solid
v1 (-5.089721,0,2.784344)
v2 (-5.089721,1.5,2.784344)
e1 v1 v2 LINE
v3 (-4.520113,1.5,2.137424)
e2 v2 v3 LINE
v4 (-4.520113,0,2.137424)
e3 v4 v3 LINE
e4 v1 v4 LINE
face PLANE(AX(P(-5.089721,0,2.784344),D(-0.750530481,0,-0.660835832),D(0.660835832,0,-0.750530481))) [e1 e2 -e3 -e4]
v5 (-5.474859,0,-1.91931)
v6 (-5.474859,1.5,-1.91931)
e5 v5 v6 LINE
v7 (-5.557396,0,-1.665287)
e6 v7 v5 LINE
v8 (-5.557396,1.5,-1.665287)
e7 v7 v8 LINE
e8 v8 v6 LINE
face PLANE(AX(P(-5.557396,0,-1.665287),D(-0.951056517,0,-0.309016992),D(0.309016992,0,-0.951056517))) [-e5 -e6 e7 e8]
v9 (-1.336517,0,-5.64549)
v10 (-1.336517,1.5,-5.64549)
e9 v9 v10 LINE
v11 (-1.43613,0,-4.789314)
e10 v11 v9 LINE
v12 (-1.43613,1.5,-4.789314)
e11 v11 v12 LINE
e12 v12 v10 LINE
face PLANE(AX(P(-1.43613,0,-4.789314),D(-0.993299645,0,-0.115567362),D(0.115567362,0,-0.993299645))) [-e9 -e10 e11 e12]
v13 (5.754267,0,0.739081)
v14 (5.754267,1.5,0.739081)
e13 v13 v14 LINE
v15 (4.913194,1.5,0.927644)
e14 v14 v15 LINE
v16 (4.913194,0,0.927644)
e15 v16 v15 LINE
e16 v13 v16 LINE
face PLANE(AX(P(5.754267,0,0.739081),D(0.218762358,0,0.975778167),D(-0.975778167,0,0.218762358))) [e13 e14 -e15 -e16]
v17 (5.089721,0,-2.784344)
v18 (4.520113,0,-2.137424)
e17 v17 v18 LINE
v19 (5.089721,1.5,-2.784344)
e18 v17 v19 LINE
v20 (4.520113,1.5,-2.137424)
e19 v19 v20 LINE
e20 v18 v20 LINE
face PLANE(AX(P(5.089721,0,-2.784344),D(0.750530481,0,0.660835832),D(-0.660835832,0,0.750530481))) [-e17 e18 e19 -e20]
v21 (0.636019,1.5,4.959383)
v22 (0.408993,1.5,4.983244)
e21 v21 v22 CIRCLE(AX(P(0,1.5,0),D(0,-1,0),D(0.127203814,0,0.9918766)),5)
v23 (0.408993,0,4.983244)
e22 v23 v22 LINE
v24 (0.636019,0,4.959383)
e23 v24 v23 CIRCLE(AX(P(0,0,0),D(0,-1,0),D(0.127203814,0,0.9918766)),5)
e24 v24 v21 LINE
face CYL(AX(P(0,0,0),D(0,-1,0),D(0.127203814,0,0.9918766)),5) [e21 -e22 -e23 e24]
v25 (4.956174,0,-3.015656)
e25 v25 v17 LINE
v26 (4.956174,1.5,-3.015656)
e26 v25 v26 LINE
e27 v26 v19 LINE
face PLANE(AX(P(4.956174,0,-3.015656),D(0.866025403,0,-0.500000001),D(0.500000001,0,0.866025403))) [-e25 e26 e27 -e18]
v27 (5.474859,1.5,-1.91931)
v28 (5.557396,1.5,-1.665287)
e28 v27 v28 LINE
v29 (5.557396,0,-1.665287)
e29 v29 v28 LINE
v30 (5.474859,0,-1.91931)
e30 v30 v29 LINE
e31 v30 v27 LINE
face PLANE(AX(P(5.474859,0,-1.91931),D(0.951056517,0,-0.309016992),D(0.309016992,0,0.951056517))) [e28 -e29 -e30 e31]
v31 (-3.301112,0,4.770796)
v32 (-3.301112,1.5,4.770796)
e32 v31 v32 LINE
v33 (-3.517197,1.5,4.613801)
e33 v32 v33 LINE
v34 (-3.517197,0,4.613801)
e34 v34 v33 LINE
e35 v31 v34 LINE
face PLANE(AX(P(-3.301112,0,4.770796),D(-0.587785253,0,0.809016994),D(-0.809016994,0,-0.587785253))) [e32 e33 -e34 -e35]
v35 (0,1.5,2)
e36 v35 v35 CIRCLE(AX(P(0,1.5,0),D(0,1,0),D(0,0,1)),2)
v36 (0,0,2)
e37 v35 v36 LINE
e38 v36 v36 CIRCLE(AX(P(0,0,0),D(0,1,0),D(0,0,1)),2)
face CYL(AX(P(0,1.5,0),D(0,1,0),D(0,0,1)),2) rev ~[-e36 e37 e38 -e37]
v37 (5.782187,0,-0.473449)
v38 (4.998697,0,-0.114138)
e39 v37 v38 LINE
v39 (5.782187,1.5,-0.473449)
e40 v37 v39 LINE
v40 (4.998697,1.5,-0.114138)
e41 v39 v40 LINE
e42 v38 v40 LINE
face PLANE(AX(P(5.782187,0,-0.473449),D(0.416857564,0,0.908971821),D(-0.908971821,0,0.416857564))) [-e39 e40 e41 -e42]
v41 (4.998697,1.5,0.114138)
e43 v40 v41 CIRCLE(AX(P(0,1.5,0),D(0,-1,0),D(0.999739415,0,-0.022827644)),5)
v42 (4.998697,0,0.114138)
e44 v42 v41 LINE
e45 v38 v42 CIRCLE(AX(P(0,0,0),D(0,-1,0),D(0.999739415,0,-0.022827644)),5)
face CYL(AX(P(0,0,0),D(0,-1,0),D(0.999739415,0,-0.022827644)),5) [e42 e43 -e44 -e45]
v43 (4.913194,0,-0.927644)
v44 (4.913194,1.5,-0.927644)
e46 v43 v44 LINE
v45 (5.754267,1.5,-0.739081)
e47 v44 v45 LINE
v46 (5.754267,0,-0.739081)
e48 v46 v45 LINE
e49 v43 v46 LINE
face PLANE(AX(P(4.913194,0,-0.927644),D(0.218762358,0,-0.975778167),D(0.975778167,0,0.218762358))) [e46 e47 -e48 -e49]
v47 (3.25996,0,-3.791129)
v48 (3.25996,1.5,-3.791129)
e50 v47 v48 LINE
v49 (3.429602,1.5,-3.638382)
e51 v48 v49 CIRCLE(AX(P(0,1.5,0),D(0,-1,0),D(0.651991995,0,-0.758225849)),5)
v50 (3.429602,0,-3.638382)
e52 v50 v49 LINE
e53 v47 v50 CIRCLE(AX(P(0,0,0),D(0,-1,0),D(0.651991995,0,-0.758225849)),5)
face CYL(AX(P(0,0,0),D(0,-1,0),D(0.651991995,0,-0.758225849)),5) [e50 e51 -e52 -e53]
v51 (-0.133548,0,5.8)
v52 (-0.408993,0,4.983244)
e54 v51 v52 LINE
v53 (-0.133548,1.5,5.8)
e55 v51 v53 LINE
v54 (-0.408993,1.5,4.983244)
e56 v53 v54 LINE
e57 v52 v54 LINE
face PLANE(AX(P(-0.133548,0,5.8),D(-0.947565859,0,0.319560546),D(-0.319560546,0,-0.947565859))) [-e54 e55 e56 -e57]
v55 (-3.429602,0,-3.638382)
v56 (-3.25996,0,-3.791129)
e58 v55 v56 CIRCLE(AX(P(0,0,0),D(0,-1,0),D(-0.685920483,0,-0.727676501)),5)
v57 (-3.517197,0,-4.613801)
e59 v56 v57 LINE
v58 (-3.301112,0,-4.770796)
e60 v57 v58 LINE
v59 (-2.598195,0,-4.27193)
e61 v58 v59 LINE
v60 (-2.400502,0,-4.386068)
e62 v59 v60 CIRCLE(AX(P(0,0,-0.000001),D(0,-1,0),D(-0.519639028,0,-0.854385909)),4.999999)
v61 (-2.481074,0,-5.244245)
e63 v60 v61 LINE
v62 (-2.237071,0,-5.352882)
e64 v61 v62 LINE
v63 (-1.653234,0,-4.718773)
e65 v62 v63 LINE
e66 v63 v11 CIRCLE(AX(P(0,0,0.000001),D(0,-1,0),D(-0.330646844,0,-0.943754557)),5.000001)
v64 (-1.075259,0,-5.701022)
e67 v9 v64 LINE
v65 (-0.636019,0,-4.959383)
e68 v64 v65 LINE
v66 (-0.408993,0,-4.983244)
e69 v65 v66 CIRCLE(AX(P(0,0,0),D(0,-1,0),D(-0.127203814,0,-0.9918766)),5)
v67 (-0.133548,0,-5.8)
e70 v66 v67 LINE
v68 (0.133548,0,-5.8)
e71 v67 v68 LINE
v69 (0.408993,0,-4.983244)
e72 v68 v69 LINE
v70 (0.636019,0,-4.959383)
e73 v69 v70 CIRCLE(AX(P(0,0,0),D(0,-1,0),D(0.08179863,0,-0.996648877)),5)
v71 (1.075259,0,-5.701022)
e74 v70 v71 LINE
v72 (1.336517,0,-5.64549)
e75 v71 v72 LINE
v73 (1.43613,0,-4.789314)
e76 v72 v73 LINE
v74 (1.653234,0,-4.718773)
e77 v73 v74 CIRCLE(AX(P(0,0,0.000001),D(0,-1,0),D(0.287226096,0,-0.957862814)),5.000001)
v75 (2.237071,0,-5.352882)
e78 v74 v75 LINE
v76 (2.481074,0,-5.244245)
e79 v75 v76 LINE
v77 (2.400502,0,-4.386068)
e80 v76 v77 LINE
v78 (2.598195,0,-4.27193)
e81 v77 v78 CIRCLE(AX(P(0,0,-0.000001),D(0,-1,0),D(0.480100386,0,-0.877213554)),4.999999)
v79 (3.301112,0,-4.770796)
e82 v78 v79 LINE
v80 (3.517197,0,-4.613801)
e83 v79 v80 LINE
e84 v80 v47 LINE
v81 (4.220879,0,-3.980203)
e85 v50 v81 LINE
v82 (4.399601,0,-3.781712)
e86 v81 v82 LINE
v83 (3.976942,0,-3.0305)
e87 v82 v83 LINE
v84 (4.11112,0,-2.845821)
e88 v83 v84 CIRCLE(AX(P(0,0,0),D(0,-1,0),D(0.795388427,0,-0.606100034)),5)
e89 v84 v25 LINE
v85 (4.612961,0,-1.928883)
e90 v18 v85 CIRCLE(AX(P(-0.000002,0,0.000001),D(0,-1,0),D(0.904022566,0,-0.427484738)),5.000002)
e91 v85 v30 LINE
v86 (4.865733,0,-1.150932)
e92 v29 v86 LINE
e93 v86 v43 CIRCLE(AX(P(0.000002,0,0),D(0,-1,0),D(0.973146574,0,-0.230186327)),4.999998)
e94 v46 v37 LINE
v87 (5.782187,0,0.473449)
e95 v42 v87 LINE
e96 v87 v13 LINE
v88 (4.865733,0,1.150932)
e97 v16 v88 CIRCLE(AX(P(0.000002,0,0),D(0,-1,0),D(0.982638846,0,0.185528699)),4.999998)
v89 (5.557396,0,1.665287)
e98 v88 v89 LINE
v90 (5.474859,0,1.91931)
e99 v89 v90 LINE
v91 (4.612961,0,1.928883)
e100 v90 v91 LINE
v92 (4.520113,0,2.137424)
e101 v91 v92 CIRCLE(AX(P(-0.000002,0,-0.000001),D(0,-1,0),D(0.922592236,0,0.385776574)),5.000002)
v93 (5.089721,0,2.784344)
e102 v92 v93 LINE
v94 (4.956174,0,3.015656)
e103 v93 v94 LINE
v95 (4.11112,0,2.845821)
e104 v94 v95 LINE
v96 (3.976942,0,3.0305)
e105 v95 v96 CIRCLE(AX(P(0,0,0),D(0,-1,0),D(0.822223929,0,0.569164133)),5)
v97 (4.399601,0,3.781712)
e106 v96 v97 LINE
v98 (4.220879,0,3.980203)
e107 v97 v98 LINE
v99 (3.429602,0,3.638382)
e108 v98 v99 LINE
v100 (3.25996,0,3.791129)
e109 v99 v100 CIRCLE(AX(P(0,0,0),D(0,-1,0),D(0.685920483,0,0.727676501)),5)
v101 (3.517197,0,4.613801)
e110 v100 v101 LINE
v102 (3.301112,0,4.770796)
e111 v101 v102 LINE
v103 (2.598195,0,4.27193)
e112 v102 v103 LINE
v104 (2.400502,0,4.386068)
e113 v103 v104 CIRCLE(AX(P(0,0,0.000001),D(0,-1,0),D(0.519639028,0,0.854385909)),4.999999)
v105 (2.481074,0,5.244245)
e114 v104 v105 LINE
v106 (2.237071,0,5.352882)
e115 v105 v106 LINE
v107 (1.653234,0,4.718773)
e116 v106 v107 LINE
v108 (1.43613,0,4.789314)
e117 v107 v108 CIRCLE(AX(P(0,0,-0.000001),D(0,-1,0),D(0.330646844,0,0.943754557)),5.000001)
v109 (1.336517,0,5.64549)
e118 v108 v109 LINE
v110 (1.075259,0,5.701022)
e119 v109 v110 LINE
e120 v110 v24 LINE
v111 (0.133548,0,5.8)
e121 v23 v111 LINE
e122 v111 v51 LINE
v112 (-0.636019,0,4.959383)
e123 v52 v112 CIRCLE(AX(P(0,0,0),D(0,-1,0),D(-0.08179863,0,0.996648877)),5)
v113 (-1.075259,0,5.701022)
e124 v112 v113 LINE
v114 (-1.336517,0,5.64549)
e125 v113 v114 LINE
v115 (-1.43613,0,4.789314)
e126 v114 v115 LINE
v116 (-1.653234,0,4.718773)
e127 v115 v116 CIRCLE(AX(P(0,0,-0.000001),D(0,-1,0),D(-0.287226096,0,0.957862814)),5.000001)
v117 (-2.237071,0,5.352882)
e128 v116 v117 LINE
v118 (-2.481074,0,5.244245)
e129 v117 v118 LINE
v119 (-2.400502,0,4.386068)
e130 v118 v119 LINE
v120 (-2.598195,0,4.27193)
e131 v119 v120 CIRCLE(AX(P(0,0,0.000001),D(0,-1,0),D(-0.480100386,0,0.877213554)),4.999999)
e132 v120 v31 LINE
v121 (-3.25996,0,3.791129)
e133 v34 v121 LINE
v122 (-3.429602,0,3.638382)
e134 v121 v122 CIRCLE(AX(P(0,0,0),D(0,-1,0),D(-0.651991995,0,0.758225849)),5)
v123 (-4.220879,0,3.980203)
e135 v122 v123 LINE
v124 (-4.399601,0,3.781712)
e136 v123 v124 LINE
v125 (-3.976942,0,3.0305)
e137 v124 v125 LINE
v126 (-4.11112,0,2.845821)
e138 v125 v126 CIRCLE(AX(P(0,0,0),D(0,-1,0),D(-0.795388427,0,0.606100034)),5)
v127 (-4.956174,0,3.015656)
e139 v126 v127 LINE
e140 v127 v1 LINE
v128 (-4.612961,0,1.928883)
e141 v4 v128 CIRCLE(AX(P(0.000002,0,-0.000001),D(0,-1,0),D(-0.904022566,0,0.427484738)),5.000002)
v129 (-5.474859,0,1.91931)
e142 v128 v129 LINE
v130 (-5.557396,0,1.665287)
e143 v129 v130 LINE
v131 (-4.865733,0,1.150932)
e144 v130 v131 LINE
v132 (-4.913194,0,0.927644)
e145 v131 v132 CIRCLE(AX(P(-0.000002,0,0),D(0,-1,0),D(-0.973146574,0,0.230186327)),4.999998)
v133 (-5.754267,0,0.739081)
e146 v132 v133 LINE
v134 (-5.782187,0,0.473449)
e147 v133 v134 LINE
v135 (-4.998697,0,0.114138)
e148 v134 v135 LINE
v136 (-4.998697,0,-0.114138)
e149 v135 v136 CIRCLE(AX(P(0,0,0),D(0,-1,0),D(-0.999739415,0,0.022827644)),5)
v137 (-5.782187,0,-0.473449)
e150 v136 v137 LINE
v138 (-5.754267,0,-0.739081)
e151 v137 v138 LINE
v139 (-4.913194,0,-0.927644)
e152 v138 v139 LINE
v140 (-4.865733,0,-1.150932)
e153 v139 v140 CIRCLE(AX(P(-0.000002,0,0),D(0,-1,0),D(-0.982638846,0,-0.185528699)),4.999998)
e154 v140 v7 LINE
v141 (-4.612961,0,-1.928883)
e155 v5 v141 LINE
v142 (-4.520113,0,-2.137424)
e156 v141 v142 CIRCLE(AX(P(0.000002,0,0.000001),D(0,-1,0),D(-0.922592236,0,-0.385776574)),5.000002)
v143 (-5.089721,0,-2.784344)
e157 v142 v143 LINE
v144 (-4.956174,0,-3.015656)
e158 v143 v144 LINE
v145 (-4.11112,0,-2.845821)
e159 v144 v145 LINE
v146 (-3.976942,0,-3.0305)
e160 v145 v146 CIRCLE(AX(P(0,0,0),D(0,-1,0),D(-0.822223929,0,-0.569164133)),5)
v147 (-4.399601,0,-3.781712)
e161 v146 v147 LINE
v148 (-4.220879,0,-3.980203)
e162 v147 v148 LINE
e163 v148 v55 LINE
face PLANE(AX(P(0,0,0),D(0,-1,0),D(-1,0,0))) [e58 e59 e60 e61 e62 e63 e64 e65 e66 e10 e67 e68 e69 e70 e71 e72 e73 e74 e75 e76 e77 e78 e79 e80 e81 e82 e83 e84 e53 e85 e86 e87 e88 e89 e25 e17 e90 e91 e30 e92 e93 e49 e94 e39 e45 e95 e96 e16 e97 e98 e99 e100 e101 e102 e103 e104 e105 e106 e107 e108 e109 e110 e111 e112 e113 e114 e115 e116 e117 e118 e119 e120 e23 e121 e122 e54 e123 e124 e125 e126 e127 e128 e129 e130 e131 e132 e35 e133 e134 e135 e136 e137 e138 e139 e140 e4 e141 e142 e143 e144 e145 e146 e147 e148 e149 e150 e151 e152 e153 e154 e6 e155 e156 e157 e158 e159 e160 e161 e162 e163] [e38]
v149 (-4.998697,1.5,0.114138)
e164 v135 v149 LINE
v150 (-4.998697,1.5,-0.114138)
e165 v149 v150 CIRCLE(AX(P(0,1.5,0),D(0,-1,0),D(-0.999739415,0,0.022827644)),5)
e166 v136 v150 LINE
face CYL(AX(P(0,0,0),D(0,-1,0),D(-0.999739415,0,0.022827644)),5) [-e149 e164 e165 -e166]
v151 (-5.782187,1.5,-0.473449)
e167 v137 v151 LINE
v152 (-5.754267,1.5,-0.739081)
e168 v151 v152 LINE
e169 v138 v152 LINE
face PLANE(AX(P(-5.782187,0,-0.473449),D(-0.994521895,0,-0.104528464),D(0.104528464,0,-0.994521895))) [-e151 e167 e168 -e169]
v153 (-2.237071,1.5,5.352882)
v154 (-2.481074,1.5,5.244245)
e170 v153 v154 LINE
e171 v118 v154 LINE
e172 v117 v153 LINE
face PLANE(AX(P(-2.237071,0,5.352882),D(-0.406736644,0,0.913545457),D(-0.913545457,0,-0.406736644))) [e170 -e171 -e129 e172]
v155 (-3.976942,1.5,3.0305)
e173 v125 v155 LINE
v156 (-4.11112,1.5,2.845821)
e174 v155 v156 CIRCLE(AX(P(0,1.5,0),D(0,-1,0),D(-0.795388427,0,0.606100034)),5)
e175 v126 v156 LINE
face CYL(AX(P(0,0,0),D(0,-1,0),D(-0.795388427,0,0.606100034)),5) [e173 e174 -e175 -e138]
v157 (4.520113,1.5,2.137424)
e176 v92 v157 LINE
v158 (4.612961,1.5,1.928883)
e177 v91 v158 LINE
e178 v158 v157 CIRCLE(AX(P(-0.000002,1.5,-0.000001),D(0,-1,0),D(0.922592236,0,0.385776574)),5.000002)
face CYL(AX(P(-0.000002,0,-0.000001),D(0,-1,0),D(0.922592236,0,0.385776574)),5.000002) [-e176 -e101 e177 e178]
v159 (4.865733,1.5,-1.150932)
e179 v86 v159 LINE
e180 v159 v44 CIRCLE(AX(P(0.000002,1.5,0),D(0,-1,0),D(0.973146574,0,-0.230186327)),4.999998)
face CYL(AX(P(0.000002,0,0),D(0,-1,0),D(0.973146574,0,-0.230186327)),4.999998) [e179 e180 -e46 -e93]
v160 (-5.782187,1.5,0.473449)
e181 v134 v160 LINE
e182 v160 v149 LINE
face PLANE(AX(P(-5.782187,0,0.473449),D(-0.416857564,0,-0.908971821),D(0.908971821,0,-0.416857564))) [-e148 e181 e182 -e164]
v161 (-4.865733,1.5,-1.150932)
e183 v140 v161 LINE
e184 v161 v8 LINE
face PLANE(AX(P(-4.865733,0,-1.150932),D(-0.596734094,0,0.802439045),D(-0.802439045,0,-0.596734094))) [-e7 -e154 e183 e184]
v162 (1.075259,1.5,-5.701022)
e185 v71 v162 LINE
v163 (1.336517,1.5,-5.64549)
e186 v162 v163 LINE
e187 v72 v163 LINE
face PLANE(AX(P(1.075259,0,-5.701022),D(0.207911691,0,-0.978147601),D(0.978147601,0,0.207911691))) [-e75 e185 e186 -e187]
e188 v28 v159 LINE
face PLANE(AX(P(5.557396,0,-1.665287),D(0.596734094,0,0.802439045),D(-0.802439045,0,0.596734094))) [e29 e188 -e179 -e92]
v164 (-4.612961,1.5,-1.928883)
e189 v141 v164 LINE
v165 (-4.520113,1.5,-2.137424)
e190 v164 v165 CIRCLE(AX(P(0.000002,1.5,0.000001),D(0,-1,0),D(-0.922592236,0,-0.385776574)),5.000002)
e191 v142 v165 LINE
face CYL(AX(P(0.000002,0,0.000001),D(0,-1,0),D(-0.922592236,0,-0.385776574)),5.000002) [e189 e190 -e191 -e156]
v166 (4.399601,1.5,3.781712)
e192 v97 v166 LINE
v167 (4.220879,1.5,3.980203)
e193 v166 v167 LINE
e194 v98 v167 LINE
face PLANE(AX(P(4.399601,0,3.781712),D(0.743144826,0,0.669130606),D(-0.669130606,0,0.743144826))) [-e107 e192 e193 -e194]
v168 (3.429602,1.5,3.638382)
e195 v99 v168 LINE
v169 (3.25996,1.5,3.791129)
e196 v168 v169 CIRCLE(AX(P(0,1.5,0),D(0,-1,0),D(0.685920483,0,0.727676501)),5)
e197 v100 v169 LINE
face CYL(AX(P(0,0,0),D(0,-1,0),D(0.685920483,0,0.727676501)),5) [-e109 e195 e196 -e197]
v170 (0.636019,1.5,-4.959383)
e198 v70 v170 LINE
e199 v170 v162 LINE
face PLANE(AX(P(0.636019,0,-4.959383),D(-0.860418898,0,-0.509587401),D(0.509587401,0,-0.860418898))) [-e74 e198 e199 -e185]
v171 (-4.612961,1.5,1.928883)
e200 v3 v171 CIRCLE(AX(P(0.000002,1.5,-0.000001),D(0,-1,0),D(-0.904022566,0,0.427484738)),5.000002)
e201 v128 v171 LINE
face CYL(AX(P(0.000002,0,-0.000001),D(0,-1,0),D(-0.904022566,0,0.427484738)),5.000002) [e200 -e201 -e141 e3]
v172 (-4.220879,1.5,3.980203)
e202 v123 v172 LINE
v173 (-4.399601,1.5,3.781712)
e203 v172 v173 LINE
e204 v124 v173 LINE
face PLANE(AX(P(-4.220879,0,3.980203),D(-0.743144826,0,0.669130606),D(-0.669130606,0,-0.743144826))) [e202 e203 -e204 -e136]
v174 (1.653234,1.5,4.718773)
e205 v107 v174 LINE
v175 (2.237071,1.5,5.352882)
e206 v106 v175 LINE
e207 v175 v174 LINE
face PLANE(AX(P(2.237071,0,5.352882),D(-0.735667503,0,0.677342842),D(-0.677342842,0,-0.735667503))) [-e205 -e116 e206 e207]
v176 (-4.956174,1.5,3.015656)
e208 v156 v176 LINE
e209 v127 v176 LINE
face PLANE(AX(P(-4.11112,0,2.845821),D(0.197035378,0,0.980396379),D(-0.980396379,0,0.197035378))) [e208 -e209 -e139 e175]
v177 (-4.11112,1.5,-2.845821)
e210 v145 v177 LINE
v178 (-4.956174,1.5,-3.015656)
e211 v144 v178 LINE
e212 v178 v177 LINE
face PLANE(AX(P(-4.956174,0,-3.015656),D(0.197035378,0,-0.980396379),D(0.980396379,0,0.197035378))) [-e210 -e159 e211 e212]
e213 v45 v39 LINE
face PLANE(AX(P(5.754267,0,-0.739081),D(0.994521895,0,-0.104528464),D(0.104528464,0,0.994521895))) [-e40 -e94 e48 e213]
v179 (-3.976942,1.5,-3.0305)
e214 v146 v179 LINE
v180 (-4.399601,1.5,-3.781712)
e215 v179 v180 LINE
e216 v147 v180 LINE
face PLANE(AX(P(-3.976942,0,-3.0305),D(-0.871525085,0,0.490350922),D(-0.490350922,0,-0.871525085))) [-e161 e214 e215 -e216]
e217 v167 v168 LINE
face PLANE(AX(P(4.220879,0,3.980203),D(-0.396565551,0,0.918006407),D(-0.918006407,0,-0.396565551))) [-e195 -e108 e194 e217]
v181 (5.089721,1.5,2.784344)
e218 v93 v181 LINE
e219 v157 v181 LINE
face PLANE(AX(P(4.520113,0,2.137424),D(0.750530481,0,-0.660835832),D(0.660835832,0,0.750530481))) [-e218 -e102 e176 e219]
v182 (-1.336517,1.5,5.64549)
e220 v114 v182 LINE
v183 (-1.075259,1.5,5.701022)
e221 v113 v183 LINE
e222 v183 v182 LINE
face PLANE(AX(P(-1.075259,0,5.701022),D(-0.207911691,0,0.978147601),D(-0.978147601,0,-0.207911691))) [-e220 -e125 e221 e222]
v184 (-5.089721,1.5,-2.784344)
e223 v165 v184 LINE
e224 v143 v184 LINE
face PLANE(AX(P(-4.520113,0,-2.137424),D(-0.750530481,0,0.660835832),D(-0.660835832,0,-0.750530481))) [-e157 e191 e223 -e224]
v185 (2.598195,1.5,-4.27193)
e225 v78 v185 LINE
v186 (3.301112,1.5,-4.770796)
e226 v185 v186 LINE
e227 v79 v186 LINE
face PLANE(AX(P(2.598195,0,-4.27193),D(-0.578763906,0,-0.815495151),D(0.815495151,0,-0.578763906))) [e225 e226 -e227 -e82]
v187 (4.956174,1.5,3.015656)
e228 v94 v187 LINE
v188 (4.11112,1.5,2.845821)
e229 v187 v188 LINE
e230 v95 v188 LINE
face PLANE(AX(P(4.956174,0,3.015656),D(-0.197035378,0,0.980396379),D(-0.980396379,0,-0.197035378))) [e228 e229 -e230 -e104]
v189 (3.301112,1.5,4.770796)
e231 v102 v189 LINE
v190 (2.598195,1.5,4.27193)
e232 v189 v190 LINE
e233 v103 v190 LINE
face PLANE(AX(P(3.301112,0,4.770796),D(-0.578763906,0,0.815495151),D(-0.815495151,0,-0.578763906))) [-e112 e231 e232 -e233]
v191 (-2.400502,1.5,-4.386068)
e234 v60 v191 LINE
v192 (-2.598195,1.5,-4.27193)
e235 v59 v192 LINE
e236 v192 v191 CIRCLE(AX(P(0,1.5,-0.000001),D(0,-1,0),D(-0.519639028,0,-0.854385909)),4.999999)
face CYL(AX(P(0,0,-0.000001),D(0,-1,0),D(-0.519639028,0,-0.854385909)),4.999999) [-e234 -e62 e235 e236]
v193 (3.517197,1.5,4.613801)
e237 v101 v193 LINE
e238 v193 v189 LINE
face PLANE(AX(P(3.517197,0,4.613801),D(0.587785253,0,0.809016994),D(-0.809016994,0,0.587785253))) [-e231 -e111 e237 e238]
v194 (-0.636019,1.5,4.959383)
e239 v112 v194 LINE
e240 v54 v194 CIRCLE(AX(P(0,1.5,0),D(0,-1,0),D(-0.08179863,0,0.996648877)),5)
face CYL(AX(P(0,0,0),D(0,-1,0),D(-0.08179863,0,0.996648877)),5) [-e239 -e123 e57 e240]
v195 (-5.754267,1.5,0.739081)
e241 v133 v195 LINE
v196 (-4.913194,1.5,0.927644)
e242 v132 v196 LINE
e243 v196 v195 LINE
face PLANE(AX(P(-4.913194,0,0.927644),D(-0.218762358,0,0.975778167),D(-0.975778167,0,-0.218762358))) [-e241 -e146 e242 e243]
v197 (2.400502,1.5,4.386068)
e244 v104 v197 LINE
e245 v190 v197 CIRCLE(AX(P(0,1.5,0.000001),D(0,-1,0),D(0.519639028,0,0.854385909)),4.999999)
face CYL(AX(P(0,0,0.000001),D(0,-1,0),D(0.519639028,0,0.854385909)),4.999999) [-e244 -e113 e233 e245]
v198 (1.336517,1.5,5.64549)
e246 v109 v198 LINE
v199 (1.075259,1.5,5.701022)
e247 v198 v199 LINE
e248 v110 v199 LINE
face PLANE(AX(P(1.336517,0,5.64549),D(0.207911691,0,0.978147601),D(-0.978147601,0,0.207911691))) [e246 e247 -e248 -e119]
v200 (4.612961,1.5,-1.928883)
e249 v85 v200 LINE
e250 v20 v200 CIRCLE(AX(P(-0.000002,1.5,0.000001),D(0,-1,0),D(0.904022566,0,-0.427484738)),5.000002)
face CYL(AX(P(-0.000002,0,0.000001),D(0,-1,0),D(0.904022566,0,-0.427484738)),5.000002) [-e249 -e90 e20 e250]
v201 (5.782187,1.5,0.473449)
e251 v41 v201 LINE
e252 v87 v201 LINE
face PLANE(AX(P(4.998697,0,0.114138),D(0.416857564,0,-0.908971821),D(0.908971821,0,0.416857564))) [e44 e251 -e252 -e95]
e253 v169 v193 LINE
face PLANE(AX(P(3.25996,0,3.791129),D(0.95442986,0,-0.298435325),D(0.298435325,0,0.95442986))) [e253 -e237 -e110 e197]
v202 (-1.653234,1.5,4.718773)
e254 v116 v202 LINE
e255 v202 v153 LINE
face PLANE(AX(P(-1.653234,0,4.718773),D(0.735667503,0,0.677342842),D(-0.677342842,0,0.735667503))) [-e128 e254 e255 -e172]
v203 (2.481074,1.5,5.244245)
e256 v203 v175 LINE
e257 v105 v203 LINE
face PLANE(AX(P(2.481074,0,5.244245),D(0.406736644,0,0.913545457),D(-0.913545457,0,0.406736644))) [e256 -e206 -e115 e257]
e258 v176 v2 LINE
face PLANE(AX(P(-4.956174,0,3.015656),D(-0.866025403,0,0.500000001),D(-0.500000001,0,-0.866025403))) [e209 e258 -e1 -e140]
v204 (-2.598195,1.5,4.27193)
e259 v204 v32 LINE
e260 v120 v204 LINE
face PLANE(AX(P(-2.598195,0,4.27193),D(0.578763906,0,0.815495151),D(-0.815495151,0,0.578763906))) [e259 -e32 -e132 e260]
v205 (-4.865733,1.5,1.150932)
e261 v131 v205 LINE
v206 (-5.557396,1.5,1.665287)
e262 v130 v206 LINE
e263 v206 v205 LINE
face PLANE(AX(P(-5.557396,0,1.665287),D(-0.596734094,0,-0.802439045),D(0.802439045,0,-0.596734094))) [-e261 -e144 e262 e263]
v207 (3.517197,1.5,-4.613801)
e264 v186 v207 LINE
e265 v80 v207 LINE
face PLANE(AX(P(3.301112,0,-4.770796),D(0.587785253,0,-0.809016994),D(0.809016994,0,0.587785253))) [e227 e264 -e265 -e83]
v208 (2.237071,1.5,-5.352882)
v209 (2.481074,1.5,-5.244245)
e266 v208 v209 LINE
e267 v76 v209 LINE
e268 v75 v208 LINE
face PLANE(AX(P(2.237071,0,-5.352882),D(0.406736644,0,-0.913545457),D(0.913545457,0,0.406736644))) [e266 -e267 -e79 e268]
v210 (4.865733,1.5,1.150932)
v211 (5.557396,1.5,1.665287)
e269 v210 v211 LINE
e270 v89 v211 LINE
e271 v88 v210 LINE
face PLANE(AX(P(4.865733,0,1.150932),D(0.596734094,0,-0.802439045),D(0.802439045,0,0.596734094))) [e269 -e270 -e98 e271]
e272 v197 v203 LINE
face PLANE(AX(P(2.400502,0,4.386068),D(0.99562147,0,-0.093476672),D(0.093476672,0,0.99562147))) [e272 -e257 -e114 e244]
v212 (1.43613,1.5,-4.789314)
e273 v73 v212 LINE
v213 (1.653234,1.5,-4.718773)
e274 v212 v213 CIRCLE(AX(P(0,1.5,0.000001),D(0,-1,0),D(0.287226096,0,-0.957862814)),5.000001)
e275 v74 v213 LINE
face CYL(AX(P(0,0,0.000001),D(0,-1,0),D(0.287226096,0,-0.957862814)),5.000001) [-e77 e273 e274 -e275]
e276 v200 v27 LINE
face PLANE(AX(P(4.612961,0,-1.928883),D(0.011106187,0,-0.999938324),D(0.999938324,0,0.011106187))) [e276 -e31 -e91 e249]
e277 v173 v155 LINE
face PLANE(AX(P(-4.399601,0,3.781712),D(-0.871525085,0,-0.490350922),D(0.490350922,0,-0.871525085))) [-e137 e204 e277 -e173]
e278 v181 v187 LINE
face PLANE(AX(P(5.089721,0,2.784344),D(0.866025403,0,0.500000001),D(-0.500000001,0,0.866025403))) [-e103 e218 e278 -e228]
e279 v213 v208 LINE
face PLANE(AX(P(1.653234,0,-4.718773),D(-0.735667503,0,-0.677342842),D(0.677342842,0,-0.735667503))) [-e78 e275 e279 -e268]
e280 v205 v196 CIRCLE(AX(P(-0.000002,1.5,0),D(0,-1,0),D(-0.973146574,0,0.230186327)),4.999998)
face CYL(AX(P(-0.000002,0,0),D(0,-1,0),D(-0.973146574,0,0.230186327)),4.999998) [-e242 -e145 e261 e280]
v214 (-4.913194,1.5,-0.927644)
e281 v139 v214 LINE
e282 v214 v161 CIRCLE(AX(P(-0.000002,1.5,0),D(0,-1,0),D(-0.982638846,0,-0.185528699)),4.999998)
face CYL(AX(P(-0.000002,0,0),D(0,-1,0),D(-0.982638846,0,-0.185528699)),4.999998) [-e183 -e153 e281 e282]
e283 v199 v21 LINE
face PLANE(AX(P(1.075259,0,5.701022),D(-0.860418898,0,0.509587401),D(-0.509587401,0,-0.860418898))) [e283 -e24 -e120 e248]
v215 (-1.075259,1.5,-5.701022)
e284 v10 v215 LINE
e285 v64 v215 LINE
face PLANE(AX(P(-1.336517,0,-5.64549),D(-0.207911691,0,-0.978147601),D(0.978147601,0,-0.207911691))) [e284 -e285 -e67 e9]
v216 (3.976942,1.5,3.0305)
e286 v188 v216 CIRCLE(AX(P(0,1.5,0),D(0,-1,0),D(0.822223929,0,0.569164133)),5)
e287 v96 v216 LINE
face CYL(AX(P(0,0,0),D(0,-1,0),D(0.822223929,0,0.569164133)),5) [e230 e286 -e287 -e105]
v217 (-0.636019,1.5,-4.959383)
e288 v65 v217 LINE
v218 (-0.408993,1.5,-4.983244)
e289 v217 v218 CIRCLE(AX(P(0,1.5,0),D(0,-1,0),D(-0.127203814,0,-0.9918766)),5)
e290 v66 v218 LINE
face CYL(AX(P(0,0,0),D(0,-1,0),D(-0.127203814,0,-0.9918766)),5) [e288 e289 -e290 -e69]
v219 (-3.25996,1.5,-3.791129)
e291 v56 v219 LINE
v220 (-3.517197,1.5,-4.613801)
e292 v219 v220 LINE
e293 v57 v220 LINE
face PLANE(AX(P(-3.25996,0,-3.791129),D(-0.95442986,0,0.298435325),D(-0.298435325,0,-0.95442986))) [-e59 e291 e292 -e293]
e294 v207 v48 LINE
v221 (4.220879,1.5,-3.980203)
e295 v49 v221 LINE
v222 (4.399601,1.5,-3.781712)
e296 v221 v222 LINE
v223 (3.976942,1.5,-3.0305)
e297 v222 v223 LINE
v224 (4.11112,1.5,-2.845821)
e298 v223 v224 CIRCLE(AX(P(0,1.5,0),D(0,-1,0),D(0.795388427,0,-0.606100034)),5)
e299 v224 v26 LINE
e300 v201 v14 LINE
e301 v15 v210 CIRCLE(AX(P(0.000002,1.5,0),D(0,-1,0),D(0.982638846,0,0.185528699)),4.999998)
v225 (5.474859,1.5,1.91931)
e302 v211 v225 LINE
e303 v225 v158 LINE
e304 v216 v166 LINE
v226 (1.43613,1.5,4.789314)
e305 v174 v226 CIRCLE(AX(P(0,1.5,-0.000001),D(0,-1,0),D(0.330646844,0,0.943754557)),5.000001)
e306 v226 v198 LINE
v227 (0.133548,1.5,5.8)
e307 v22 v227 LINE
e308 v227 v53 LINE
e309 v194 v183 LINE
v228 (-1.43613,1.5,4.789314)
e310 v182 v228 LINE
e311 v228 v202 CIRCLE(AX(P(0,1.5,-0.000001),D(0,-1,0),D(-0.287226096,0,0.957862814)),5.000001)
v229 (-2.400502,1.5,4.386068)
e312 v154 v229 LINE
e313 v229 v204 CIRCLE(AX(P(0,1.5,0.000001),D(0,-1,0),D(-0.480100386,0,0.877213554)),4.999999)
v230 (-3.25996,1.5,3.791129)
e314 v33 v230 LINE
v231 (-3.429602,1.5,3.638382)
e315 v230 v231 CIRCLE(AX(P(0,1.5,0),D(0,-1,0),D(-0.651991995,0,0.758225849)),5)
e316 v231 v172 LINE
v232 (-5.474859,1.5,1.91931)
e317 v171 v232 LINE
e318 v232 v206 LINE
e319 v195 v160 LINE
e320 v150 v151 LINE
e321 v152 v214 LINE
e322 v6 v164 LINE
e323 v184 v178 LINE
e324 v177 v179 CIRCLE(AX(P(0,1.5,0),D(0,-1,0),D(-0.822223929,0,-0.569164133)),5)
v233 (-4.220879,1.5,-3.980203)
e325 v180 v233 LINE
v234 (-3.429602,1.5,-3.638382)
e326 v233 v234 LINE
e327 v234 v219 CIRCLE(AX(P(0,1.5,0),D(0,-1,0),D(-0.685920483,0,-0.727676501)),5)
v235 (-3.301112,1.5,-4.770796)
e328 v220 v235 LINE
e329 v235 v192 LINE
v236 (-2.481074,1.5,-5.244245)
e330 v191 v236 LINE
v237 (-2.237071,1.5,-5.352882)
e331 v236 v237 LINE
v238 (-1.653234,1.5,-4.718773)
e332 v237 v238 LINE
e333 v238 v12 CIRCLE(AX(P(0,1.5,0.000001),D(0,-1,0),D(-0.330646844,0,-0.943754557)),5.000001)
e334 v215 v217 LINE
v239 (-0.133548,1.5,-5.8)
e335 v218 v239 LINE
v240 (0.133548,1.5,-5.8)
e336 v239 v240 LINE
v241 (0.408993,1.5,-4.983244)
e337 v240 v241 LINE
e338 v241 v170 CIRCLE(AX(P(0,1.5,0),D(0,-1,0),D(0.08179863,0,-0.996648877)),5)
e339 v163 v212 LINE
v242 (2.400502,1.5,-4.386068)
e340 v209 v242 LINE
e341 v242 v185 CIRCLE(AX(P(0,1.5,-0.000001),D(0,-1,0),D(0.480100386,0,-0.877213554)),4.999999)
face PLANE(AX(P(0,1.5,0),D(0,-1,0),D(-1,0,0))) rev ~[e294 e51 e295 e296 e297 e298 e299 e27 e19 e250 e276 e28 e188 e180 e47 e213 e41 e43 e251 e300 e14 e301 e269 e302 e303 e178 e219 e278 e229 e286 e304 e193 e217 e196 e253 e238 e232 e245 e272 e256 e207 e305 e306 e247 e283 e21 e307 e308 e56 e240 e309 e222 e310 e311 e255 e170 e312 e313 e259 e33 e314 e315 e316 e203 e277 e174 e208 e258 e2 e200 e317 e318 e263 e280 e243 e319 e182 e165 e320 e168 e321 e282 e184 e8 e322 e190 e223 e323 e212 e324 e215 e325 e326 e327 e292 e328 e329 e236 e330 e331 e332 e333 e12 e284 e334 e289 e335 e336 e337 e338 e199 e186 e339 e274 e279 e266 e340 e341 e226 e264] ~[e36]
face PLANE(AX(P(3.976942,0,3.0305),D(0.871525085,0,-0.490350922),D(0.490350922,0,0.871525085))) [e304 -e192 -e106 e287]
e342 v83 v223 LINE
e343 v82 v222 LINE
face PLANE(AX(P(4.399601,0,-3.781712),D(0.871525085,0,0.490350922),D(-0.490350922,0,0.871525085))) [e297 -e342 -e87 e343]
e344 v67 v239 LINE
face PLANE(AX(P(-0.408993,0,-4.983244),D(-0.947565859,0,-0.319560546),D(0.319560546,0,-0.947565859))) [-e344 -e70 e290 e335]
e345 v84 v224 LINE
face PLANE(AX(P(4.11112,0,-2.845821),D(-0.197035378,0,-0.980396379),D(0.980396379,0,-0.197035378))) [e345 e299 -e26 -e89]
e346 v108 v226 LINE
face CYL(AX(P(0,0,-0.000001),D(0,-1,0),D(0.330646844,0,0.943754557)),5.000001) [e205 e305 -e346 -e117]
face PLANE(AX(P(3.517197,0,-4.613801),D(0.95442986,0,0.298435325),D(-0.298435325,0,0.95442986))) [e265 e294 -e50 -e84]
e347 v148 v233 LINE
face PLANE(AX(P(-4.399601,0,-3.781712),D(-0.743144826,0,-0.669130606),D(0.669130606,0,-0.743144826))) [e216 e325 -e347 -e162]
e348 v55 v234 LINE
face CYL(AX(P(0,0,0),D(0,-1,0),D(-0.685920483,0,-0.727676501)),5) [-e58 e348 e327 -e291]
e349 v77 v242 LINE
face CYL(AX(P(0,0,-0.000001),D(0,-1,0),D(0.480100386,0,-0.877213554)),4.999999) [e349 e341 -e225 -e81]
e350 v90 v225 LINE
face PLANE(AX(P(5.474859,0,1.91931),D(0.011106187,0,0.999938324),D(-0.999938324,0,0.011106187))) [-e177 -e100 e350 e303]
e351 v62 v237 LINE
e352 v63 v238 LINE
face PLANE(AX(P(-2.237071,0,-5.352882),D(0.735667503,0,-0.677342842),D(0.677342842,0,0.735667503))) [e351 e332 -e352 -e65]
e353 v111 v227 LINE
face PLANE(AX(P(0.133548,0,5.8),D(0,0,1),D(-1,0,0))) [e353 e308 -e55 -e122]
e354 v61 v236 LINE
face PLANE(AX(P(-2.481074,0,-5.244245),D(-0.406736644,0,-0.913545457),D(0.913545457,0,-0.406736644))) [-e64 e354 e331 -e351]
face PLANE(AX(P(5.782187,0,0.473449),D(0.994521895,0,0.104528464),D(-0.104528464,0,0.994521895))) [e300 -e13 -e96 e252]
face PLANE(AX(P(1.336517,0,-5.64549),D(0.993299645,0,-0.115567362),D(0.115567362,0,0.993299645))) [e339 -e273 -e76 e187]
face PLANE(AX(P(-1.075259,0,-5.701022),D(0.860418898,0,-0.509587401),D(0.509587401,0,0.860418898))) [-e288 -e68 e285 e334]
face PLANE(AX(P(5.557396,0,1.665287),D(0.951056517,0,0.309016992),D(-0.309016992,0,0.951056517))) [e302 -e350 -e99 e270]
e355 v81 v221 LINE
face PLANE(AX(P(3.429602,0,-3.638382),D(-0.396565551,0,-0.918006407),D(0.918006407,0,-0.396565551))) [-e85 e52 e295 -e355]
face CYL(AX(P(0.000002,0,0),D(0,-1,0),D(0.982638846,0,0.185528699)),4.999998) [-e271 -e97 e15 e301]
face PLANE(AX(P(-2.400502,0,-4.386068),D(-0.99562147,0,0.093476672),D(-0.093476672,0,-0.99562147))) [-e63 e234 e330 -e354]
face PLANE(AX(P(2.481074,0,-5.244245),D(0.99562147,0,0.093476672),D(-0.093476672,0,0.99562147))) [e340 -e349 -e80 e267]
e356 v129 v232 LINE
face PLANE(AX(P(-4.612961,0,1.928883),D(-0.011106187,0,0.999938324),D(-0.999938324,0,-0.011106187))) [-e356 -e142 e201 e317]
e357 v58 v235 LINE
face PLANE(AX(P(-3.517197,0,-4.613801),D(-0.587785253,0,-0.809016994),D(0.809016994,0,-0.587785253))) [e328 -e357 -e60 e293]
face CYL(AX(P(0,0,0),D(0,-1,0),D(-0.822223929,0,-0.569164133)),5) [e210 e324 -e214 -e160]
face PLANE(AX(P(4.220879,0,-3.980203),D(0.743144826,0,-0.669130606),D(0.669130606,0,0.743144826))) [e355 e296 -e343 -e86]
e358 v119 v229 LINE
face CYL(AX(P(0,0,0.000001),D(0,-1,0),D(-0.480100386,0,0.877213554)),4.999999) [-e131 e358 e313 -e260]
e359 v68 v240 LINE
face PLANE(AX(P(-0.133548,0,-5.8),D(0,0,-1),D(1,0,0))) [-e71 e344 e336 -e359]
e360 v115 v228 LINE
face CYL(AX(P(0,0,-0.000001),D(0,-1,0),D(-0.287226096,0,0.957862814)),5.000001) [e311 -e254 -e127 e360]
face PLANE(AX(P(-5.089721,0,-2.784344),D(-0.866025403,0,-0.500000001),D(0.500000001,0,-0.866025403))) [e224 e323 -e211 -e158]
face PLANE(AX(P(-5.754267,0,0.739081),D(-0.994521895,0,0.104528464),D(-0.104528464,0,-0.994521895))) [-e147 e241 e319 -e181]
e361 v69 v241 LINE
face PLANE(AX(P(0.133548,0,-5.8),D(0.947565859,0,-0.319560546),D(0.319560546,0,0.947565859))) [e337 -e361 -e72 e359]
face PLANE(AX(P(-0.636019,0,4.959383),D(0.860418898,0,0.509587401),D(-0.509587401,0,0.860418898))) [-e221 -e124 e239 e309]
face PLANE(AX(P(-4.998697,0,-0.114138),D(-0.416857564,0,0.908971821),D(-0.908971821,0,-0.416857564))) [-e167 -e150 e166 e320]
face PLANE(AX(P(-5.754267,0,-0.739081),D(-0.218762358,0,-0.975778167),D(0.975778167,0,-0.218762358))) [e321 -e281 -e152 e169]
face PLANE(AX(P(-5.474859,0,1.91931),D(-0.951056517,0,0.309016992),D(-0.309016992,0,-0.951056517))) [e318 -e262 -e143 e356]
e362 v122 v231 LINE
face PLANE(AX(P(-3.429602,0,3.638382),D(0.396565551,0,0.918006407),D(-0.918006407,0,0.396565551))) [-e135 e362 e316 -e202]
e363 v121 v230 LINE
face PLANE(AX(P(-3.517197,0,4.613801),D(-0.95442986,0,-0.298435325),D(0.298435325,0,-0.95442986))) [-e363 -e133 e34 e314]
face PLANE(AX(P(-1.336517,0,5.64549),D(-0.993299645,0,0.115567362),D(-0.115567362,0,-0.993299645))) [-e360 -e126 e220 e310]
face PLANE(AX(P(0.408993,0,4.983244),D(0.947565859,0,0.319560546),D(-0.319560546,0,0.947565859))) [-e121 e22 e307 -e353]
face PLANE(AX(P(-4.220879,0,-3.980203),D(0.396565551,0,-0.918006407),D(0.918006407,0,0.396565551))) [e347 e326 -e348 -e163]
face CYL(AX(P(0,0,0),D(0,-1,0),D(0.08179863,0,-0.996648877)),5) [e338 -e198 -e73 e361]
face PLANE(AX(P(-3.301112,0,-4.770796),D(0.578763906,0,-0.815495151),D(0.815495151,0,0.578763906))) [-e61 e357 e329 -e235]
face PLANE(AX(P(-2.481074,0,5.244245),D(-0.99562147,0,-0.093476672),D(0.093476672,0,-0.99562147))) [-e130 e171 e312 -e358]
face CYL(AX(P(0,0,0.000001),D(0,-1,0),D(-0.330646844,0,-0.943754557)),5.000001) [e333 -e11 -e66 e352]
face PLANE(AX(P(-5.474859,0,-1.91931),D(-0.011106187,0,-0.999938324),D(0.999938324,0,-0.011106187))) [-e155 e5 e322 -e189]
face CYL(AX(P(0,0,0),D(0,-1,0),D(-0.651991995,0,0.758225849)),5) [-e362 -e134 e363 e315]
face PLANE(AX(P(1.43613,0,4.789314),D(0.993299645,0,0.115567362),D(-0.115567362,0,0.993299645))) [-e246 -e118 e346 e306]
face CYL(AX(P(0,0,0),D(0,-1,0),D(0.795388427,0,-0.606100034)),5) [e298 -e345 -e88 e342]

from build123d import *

# Parameters (mm, degrees)
BOSS_EXTRUDE1_DEPTH = 1.5
SKETCH2_R           = 2
CUT_EXTRUDE1_DEPTH  = 9.326084366


with BuildPart() as part:
    # Sketch1 → Boss-Extrude1 (new body)
    with BuildSketch(Plane(origin=(0, 0, 0), x_dir=(1, 0, 0), z_dir=(0, 1, 0))):
        with BuildLine():
            Line((-0.133547548, 5.8), (0.133547548, 5.8))
            Line((0.133547548, 5.8), (0.408993174, 4.983244383))
            ThreePointArc((0.408993174, 4.983244383), (0.522642316, 4.972609477), (0.636019074, 4.959383))
            Line((0.636019074, 4.959383), (1.075258593, 5.701022181))
            Line((1.075258593, 5.701022181), (1.33651702, 5.645489988))
            Line((1.33651702, 5.645489988), (1.436130457, 4.789314075))
            ThreePointArc((1.436130457, 4.789314075), (1.545084972, 4.755282581), (1.653234236, 4.718772781))
            Line((1.653234236, 4.718772781), (2.237070774, 5.352882336))
            Line((2.237070774, 5.352882336), (2.481074286, 5.244244973))
            Line((2.481074286, 5.244244973), (2.400501948, 4.38606776))
            ThreePointArc((2.400501948, 4.38606776), (2.5, 4.330127019), (2.598195129, 4.271929549))
            Line((2.598195129, 4.271929549), (3.301112228, 4.770795846))
            Line((3.301112228, 4.770795846), (3.517196699, 4.613801288))
            Line((3.517196699, 4.613801288), (3.259959985, 3.791129237))
            ThreePointArc((3.259959985, 3.791129237), (3.345653032, 3.715724127), (3.429602427, 3.638382497))
            Line((3.429602427, 3.638382497), (4.220879236, 3.980202686))
            Line((4.220879236, 3.980202686), (4.399600739, 3.781712348))
            Line((4.399600739, 3.781712348), (3.976942128, 3.030500175))
            ThreePointArc((3.976942128, 3.030500175), (4.045084972, 2.938926261), (4.111119642, 2.84582067))
            Line((4.111119642, 2.84582067), (4.956173568, 3.015655569))
            Line((4.956173568, 3.015655569), (5.089721116, 2.784344431))
            Line((5.089721116, 2.784344431), (4.520112816, 2.137423713))
            ThreePointArc((4.520112816, 2.137423713), (4.567727288, 2.033683215), (4.612961202, 1.928882825))
            Line((4.612961202, 1.928882825), (5.474859333, 1.919309833))
            Line((5.474859333, 1.919309833), (5.557396256, 1.665287302))
            Line((5.557396256, 1.665287302), (4.865732884, 1.150931578))
            ThreePointArc((4.865732884, 1.150931578), (4.890738004, 1.039558454), (4.913194221, 0.927643544))
            Line((4.913194221, 0.927643544), (5.754267473, 0.739081047))
            Line((5.754267473, 0.739081047), (5.782186513, 0.473449127))
            Line((5.782186513, 0.473449127), (4.998697077, 0.114138211))
            ThreePointArc((4.998697077, 0.114138211), (5, 0), (4.998697077, -0.114138211))
            Line((4.998697077, -0.114138211), (5.782186513, -0.473449127))
            Line((5.782186513, -0.473449127), (5.754267473, -0.739081047))
            Line((5.754267473, -0.739081047), (4.913194221, -0.927643544))
            ThreePointArc((4.913194221, -0.927643544), (4.890738004, -1.039558454), (4.865732884, -1.150931578))
            Line((4.865732884, -1.150931578), (5.557396256, -1.665287302))
            Line((5.557396256, -1.665287302), (5.474859333, -1.919309833))
            Line((5.474859333, -1.919309833), (4.612961202, -1.928882825))
            ThreePointArc((4.612961202, -1.928882825), (4.567727288, -2.033683215), (4.520112816, -2.137423713))
            Line((4.520112816, -2.137423713), (5.089721116, -2.784344431))
            Line((5.089721116, -2.784344431), (4.956173568, -3.015655569))
            Line((4.956173568, -3.015655569), (4.111119642, -2.84582067))
            ThreePointArc((4.111119642, -2.84582067), (4.045084972, -2.938926261), (3.976942128, -3.030500175))
            Line((3.976942128, -3.030500175), (4.399600739, -3.781712348))
            Line((4.399600739, -3.781712348), (4.220879236, -3.980202686))
            Line((4.220879236, -3.980202686), (3.429602427, -3.638382497))
            ThreePointArc((3.429602427, -3.638382497), (3.345653032, -3.715724127), (3.259959985, -3.791129237))
            Line((3.259959985, -3.791129237), (3.517196699, -4.613801288))
            Line((3.517196699, -4.613801288), (3.301112228, -4.770795846))
            Line((3.301112228, -4.770795846), (2.598195129, -4.271929549))
            ThreePointArc((2.598195129, -4.271929549), (2.5, -4.330127019), (2.400501948, -4.38606776))
            Line((2.400501948, -4.38606776), (2.481074286, -5.244244973))
            Line((2.481074286, -5.244244973), (2.237070774, -5.352882336))
            Line((2.237070774, -5.352882336), (1.653234236, -4.718772781))
            ThreePointArc((1.653234236, -4.718772781), (1.545084972, -4.755282581), (1.436130457, -4.789314075))
            Line((1.436130457, -4.789314075), (1.33651702, -5.645489988))
            Line((1.33651702, -5.645489988), (1.075258593, -5.701022181))
            Line((1.075258593, -5.701022181), (0.636019074, -4.959383))
            ThreePointArc((0.636019074, -4.959383), (0.522642316, -4.972609477), (0.408993174, -4.983244383))
            Line((0.408993174, -4.983244383), (0.133547548, -5.8))
            Line((0.133547548, -5.8), (-0.133547548, -5.8))
            Line((-0.133547548, -5.8), (-0.408993174, -4.983244383))
            ThreePointArc((-0.408993174, -4.983244383), (-0.522642316, -4.972609477), (-0.636019074, -4.959383))
            Line((-0.636019074, -4.959383), (-1.075258593, -5.701022181))
            Line((-1.075258593, -5.701022181), (-1.33651702, -5.645489988))
            Line((-1.33651702, -5.645489988), (-1.436130457, -4.789314075))
            ThreePointArc((-1.436130457, -4.789314075), (-1.545084972, -4.755282581), (-1.653234236, -4.718772781))
            Line((-1.653234236, -4.718772781), (-2.237070774, -5.352882336))
            Line((-2.237070774, -5.352882336), (-2.481074286, -5.244244973))
            Line((-2.481074286, -5.244244973), (-2.400501948, -4.38606776))
            ThreePointArc((-2.400501948, -4.38606776), (-2.5, -4.330127019), (-2.598195129, -4.271929549))
            Line((-2.598195129, -4.271929549), (-3.301112228, -4.770795846))
            Line((-3.301112228, -4.770795846), (-3.517196699, -4.613801288))
            Line((-3.517196699, -4.613801288), (-3.259959985, -3.791129237))
            ThreePointArc((-3.259959985, -3.791129237), (-3.345653032, -3.715724127), (-3.429602427, -3.638382497))
            Line((-3.429602427, -3.638382497), (-4.220879236, -3.980202686))
            Line((-4.220879236, -3.980202686), (-4.399600739, -3.781712348))
            Line((-4.399600739, -3.781712348), (-3.976942128, -3.030500175))
            ThreePointArc((-3.976942128, -3.030500175), (-4.045084972, -2.938926261), (-4.111119642, -2.84582067))
            Line((-4.111119642, -2.84582067), (-4.956173568, -3.015655569))
            Line((-4.956173568, -3.015655569), (-5.089721116, -2.784344431))
            Line((-5.089721116, -2.784344431), (-4.520112816, -2.137423713))
            ThreePointArc((-4.520112816, -2.137423713), (-4.567727288, -2.033683215), (-4.612961202, -1.928882825))
            Line((-4.612961202, -1.928882825), (-5.474859333, -1.919309833))
            Line((-5.474859333, -1.919309833), (-5.557396256, -1.665287302))
            Line((-5.557396256, -1.665287302), (-4.865732884, -1.150931578))
            ThreePointArc((-4.865732884, -1.150931578), (-4.890738004, -1.039558454), (-4.913194221, -0.927643544))
            Line((-4.913194221, -0.927643544), (-5.754267473, -0.739081047))
            Line((-5.754267473, -0.739081047), (-5.782186513, -0.473449127))
            Line((-5.782186513, -0.473449127), (-4.998697077, -0.114138211))
            ThreePointArc((-4.998697077, -0.114138211), (-5, 0), (-4.998697077, 0.114138211))
            Line((-4.998697077, 0.114138211), (-5.782186513, 0.473449127))
            Line((-5.782186513, 0.473449127), (-5.754267473, 0.739081047))
            Line((-5.754267473, 0.739081047), (-4.913194221, 0.927643544))
            ThreePointArc((-4.913194221, 0.927643544), (-4.890738004, 1.039558454), (-4.865732884, 1.150931578))
            Line((-4.865732884, 1.150931578), (-5.557396256, 1.665287302))
            Line((-5.557396256, 1.665287302), (-5.474859333, 1.919309833))
            Line((-5.474859333, 1.919309833), (-4.612961202, 1.928882825))
            ThreePointArc((-4.612961202, 1.928882825), (-4.567727288, 2.033683215), (-4.520112816, 2.137423713))
            Line((-4.520112816, 2.137423713), (-5.089721116, 2.784344431))
            Line((-5.089721116, 2.784344431), (-4.956173568, 3.015655569))
            Line((-4.956173568, 3.015655569), (-4.111119642, 2.84582067))
            ThreePointArc((-4.111119642, 2.84582067), (-4.045084972, 2.938926261), (-3.976942128, 3.030500175))
            Line((-3.976942128, 3.030500175), (-4.399600739, 3.781712348))
            Line((-4.399600739, 3.781712348), (-4.220879236, 3.980202686))
            Line((-4.220879236, 3.980202686), (-3.429602427, 3.638382497))
            ThreePointArc((-3.429602427, 3.638382497), (-3.345653032, 3.715724127), (-3.259959985, 3.791129237))
            Line((-3.259959985, 3.791129237), (-3.517196699, 4.613801288))
            Line((-3.517196699, 4.613801288), (-3.301112228, 4.770795846))
            Line((-3.301112228, 4.770795846), (-2.598195129, 4.271929549))
            ThreePointArc((-2.598195129, 4.271929549), (-2.5, 4.330127019), (-2.400501948, 4.38606776))
            Line((-2.400501948, 4.38606776), (-2.481074286, 5.244244973))
            Line((-2.481074286, 5.244244973), (-2.237070774, 5.352882336))
            Line((-2.237070774, 5.352882336), (-1.653234236, 4.718772781))
            ThreePointArc((-1.653234236, 4.718772781), (-1.545084972, 4.755282581), (-1.436130457, 4.789314075))
            Line((-1.436130457, 4.789314075), (-1.33651702, 5.645489988))
            Line((-1.33651702, 5.645489988), (-1.075258593, 5.701022181))
            Line((-1.075258593, 5.701022181), (-0.636019074, 4.959383))
            ThreePointArc((-0.636019074, 4.959383), (-0.522642316, 4.972609477), (-0.408993174, 4.983244383))
            Line((-0.408993174, 4.983244383), (-0.133547548, 5.8))
        make_face()
    extrude(amount=BOSS_EXTRUDE1_DEPTH)

    # Sketch2 → Cut-Extrude1 (cut, through all)
    with BuildSketch(Plane(origin=(0, 1.5, 0), x_dir=(1, 0, 0), z_dir=(0, 1, 0))):
        with Locations(Location((0, 0, 0), (0, 0, 270))):
            Circle(SKETCH2_R)
    extrude(amount=-CUT_EXTRUDE1_DEPTH, mode=Mode.SUBTRACT)


solid = part.part
